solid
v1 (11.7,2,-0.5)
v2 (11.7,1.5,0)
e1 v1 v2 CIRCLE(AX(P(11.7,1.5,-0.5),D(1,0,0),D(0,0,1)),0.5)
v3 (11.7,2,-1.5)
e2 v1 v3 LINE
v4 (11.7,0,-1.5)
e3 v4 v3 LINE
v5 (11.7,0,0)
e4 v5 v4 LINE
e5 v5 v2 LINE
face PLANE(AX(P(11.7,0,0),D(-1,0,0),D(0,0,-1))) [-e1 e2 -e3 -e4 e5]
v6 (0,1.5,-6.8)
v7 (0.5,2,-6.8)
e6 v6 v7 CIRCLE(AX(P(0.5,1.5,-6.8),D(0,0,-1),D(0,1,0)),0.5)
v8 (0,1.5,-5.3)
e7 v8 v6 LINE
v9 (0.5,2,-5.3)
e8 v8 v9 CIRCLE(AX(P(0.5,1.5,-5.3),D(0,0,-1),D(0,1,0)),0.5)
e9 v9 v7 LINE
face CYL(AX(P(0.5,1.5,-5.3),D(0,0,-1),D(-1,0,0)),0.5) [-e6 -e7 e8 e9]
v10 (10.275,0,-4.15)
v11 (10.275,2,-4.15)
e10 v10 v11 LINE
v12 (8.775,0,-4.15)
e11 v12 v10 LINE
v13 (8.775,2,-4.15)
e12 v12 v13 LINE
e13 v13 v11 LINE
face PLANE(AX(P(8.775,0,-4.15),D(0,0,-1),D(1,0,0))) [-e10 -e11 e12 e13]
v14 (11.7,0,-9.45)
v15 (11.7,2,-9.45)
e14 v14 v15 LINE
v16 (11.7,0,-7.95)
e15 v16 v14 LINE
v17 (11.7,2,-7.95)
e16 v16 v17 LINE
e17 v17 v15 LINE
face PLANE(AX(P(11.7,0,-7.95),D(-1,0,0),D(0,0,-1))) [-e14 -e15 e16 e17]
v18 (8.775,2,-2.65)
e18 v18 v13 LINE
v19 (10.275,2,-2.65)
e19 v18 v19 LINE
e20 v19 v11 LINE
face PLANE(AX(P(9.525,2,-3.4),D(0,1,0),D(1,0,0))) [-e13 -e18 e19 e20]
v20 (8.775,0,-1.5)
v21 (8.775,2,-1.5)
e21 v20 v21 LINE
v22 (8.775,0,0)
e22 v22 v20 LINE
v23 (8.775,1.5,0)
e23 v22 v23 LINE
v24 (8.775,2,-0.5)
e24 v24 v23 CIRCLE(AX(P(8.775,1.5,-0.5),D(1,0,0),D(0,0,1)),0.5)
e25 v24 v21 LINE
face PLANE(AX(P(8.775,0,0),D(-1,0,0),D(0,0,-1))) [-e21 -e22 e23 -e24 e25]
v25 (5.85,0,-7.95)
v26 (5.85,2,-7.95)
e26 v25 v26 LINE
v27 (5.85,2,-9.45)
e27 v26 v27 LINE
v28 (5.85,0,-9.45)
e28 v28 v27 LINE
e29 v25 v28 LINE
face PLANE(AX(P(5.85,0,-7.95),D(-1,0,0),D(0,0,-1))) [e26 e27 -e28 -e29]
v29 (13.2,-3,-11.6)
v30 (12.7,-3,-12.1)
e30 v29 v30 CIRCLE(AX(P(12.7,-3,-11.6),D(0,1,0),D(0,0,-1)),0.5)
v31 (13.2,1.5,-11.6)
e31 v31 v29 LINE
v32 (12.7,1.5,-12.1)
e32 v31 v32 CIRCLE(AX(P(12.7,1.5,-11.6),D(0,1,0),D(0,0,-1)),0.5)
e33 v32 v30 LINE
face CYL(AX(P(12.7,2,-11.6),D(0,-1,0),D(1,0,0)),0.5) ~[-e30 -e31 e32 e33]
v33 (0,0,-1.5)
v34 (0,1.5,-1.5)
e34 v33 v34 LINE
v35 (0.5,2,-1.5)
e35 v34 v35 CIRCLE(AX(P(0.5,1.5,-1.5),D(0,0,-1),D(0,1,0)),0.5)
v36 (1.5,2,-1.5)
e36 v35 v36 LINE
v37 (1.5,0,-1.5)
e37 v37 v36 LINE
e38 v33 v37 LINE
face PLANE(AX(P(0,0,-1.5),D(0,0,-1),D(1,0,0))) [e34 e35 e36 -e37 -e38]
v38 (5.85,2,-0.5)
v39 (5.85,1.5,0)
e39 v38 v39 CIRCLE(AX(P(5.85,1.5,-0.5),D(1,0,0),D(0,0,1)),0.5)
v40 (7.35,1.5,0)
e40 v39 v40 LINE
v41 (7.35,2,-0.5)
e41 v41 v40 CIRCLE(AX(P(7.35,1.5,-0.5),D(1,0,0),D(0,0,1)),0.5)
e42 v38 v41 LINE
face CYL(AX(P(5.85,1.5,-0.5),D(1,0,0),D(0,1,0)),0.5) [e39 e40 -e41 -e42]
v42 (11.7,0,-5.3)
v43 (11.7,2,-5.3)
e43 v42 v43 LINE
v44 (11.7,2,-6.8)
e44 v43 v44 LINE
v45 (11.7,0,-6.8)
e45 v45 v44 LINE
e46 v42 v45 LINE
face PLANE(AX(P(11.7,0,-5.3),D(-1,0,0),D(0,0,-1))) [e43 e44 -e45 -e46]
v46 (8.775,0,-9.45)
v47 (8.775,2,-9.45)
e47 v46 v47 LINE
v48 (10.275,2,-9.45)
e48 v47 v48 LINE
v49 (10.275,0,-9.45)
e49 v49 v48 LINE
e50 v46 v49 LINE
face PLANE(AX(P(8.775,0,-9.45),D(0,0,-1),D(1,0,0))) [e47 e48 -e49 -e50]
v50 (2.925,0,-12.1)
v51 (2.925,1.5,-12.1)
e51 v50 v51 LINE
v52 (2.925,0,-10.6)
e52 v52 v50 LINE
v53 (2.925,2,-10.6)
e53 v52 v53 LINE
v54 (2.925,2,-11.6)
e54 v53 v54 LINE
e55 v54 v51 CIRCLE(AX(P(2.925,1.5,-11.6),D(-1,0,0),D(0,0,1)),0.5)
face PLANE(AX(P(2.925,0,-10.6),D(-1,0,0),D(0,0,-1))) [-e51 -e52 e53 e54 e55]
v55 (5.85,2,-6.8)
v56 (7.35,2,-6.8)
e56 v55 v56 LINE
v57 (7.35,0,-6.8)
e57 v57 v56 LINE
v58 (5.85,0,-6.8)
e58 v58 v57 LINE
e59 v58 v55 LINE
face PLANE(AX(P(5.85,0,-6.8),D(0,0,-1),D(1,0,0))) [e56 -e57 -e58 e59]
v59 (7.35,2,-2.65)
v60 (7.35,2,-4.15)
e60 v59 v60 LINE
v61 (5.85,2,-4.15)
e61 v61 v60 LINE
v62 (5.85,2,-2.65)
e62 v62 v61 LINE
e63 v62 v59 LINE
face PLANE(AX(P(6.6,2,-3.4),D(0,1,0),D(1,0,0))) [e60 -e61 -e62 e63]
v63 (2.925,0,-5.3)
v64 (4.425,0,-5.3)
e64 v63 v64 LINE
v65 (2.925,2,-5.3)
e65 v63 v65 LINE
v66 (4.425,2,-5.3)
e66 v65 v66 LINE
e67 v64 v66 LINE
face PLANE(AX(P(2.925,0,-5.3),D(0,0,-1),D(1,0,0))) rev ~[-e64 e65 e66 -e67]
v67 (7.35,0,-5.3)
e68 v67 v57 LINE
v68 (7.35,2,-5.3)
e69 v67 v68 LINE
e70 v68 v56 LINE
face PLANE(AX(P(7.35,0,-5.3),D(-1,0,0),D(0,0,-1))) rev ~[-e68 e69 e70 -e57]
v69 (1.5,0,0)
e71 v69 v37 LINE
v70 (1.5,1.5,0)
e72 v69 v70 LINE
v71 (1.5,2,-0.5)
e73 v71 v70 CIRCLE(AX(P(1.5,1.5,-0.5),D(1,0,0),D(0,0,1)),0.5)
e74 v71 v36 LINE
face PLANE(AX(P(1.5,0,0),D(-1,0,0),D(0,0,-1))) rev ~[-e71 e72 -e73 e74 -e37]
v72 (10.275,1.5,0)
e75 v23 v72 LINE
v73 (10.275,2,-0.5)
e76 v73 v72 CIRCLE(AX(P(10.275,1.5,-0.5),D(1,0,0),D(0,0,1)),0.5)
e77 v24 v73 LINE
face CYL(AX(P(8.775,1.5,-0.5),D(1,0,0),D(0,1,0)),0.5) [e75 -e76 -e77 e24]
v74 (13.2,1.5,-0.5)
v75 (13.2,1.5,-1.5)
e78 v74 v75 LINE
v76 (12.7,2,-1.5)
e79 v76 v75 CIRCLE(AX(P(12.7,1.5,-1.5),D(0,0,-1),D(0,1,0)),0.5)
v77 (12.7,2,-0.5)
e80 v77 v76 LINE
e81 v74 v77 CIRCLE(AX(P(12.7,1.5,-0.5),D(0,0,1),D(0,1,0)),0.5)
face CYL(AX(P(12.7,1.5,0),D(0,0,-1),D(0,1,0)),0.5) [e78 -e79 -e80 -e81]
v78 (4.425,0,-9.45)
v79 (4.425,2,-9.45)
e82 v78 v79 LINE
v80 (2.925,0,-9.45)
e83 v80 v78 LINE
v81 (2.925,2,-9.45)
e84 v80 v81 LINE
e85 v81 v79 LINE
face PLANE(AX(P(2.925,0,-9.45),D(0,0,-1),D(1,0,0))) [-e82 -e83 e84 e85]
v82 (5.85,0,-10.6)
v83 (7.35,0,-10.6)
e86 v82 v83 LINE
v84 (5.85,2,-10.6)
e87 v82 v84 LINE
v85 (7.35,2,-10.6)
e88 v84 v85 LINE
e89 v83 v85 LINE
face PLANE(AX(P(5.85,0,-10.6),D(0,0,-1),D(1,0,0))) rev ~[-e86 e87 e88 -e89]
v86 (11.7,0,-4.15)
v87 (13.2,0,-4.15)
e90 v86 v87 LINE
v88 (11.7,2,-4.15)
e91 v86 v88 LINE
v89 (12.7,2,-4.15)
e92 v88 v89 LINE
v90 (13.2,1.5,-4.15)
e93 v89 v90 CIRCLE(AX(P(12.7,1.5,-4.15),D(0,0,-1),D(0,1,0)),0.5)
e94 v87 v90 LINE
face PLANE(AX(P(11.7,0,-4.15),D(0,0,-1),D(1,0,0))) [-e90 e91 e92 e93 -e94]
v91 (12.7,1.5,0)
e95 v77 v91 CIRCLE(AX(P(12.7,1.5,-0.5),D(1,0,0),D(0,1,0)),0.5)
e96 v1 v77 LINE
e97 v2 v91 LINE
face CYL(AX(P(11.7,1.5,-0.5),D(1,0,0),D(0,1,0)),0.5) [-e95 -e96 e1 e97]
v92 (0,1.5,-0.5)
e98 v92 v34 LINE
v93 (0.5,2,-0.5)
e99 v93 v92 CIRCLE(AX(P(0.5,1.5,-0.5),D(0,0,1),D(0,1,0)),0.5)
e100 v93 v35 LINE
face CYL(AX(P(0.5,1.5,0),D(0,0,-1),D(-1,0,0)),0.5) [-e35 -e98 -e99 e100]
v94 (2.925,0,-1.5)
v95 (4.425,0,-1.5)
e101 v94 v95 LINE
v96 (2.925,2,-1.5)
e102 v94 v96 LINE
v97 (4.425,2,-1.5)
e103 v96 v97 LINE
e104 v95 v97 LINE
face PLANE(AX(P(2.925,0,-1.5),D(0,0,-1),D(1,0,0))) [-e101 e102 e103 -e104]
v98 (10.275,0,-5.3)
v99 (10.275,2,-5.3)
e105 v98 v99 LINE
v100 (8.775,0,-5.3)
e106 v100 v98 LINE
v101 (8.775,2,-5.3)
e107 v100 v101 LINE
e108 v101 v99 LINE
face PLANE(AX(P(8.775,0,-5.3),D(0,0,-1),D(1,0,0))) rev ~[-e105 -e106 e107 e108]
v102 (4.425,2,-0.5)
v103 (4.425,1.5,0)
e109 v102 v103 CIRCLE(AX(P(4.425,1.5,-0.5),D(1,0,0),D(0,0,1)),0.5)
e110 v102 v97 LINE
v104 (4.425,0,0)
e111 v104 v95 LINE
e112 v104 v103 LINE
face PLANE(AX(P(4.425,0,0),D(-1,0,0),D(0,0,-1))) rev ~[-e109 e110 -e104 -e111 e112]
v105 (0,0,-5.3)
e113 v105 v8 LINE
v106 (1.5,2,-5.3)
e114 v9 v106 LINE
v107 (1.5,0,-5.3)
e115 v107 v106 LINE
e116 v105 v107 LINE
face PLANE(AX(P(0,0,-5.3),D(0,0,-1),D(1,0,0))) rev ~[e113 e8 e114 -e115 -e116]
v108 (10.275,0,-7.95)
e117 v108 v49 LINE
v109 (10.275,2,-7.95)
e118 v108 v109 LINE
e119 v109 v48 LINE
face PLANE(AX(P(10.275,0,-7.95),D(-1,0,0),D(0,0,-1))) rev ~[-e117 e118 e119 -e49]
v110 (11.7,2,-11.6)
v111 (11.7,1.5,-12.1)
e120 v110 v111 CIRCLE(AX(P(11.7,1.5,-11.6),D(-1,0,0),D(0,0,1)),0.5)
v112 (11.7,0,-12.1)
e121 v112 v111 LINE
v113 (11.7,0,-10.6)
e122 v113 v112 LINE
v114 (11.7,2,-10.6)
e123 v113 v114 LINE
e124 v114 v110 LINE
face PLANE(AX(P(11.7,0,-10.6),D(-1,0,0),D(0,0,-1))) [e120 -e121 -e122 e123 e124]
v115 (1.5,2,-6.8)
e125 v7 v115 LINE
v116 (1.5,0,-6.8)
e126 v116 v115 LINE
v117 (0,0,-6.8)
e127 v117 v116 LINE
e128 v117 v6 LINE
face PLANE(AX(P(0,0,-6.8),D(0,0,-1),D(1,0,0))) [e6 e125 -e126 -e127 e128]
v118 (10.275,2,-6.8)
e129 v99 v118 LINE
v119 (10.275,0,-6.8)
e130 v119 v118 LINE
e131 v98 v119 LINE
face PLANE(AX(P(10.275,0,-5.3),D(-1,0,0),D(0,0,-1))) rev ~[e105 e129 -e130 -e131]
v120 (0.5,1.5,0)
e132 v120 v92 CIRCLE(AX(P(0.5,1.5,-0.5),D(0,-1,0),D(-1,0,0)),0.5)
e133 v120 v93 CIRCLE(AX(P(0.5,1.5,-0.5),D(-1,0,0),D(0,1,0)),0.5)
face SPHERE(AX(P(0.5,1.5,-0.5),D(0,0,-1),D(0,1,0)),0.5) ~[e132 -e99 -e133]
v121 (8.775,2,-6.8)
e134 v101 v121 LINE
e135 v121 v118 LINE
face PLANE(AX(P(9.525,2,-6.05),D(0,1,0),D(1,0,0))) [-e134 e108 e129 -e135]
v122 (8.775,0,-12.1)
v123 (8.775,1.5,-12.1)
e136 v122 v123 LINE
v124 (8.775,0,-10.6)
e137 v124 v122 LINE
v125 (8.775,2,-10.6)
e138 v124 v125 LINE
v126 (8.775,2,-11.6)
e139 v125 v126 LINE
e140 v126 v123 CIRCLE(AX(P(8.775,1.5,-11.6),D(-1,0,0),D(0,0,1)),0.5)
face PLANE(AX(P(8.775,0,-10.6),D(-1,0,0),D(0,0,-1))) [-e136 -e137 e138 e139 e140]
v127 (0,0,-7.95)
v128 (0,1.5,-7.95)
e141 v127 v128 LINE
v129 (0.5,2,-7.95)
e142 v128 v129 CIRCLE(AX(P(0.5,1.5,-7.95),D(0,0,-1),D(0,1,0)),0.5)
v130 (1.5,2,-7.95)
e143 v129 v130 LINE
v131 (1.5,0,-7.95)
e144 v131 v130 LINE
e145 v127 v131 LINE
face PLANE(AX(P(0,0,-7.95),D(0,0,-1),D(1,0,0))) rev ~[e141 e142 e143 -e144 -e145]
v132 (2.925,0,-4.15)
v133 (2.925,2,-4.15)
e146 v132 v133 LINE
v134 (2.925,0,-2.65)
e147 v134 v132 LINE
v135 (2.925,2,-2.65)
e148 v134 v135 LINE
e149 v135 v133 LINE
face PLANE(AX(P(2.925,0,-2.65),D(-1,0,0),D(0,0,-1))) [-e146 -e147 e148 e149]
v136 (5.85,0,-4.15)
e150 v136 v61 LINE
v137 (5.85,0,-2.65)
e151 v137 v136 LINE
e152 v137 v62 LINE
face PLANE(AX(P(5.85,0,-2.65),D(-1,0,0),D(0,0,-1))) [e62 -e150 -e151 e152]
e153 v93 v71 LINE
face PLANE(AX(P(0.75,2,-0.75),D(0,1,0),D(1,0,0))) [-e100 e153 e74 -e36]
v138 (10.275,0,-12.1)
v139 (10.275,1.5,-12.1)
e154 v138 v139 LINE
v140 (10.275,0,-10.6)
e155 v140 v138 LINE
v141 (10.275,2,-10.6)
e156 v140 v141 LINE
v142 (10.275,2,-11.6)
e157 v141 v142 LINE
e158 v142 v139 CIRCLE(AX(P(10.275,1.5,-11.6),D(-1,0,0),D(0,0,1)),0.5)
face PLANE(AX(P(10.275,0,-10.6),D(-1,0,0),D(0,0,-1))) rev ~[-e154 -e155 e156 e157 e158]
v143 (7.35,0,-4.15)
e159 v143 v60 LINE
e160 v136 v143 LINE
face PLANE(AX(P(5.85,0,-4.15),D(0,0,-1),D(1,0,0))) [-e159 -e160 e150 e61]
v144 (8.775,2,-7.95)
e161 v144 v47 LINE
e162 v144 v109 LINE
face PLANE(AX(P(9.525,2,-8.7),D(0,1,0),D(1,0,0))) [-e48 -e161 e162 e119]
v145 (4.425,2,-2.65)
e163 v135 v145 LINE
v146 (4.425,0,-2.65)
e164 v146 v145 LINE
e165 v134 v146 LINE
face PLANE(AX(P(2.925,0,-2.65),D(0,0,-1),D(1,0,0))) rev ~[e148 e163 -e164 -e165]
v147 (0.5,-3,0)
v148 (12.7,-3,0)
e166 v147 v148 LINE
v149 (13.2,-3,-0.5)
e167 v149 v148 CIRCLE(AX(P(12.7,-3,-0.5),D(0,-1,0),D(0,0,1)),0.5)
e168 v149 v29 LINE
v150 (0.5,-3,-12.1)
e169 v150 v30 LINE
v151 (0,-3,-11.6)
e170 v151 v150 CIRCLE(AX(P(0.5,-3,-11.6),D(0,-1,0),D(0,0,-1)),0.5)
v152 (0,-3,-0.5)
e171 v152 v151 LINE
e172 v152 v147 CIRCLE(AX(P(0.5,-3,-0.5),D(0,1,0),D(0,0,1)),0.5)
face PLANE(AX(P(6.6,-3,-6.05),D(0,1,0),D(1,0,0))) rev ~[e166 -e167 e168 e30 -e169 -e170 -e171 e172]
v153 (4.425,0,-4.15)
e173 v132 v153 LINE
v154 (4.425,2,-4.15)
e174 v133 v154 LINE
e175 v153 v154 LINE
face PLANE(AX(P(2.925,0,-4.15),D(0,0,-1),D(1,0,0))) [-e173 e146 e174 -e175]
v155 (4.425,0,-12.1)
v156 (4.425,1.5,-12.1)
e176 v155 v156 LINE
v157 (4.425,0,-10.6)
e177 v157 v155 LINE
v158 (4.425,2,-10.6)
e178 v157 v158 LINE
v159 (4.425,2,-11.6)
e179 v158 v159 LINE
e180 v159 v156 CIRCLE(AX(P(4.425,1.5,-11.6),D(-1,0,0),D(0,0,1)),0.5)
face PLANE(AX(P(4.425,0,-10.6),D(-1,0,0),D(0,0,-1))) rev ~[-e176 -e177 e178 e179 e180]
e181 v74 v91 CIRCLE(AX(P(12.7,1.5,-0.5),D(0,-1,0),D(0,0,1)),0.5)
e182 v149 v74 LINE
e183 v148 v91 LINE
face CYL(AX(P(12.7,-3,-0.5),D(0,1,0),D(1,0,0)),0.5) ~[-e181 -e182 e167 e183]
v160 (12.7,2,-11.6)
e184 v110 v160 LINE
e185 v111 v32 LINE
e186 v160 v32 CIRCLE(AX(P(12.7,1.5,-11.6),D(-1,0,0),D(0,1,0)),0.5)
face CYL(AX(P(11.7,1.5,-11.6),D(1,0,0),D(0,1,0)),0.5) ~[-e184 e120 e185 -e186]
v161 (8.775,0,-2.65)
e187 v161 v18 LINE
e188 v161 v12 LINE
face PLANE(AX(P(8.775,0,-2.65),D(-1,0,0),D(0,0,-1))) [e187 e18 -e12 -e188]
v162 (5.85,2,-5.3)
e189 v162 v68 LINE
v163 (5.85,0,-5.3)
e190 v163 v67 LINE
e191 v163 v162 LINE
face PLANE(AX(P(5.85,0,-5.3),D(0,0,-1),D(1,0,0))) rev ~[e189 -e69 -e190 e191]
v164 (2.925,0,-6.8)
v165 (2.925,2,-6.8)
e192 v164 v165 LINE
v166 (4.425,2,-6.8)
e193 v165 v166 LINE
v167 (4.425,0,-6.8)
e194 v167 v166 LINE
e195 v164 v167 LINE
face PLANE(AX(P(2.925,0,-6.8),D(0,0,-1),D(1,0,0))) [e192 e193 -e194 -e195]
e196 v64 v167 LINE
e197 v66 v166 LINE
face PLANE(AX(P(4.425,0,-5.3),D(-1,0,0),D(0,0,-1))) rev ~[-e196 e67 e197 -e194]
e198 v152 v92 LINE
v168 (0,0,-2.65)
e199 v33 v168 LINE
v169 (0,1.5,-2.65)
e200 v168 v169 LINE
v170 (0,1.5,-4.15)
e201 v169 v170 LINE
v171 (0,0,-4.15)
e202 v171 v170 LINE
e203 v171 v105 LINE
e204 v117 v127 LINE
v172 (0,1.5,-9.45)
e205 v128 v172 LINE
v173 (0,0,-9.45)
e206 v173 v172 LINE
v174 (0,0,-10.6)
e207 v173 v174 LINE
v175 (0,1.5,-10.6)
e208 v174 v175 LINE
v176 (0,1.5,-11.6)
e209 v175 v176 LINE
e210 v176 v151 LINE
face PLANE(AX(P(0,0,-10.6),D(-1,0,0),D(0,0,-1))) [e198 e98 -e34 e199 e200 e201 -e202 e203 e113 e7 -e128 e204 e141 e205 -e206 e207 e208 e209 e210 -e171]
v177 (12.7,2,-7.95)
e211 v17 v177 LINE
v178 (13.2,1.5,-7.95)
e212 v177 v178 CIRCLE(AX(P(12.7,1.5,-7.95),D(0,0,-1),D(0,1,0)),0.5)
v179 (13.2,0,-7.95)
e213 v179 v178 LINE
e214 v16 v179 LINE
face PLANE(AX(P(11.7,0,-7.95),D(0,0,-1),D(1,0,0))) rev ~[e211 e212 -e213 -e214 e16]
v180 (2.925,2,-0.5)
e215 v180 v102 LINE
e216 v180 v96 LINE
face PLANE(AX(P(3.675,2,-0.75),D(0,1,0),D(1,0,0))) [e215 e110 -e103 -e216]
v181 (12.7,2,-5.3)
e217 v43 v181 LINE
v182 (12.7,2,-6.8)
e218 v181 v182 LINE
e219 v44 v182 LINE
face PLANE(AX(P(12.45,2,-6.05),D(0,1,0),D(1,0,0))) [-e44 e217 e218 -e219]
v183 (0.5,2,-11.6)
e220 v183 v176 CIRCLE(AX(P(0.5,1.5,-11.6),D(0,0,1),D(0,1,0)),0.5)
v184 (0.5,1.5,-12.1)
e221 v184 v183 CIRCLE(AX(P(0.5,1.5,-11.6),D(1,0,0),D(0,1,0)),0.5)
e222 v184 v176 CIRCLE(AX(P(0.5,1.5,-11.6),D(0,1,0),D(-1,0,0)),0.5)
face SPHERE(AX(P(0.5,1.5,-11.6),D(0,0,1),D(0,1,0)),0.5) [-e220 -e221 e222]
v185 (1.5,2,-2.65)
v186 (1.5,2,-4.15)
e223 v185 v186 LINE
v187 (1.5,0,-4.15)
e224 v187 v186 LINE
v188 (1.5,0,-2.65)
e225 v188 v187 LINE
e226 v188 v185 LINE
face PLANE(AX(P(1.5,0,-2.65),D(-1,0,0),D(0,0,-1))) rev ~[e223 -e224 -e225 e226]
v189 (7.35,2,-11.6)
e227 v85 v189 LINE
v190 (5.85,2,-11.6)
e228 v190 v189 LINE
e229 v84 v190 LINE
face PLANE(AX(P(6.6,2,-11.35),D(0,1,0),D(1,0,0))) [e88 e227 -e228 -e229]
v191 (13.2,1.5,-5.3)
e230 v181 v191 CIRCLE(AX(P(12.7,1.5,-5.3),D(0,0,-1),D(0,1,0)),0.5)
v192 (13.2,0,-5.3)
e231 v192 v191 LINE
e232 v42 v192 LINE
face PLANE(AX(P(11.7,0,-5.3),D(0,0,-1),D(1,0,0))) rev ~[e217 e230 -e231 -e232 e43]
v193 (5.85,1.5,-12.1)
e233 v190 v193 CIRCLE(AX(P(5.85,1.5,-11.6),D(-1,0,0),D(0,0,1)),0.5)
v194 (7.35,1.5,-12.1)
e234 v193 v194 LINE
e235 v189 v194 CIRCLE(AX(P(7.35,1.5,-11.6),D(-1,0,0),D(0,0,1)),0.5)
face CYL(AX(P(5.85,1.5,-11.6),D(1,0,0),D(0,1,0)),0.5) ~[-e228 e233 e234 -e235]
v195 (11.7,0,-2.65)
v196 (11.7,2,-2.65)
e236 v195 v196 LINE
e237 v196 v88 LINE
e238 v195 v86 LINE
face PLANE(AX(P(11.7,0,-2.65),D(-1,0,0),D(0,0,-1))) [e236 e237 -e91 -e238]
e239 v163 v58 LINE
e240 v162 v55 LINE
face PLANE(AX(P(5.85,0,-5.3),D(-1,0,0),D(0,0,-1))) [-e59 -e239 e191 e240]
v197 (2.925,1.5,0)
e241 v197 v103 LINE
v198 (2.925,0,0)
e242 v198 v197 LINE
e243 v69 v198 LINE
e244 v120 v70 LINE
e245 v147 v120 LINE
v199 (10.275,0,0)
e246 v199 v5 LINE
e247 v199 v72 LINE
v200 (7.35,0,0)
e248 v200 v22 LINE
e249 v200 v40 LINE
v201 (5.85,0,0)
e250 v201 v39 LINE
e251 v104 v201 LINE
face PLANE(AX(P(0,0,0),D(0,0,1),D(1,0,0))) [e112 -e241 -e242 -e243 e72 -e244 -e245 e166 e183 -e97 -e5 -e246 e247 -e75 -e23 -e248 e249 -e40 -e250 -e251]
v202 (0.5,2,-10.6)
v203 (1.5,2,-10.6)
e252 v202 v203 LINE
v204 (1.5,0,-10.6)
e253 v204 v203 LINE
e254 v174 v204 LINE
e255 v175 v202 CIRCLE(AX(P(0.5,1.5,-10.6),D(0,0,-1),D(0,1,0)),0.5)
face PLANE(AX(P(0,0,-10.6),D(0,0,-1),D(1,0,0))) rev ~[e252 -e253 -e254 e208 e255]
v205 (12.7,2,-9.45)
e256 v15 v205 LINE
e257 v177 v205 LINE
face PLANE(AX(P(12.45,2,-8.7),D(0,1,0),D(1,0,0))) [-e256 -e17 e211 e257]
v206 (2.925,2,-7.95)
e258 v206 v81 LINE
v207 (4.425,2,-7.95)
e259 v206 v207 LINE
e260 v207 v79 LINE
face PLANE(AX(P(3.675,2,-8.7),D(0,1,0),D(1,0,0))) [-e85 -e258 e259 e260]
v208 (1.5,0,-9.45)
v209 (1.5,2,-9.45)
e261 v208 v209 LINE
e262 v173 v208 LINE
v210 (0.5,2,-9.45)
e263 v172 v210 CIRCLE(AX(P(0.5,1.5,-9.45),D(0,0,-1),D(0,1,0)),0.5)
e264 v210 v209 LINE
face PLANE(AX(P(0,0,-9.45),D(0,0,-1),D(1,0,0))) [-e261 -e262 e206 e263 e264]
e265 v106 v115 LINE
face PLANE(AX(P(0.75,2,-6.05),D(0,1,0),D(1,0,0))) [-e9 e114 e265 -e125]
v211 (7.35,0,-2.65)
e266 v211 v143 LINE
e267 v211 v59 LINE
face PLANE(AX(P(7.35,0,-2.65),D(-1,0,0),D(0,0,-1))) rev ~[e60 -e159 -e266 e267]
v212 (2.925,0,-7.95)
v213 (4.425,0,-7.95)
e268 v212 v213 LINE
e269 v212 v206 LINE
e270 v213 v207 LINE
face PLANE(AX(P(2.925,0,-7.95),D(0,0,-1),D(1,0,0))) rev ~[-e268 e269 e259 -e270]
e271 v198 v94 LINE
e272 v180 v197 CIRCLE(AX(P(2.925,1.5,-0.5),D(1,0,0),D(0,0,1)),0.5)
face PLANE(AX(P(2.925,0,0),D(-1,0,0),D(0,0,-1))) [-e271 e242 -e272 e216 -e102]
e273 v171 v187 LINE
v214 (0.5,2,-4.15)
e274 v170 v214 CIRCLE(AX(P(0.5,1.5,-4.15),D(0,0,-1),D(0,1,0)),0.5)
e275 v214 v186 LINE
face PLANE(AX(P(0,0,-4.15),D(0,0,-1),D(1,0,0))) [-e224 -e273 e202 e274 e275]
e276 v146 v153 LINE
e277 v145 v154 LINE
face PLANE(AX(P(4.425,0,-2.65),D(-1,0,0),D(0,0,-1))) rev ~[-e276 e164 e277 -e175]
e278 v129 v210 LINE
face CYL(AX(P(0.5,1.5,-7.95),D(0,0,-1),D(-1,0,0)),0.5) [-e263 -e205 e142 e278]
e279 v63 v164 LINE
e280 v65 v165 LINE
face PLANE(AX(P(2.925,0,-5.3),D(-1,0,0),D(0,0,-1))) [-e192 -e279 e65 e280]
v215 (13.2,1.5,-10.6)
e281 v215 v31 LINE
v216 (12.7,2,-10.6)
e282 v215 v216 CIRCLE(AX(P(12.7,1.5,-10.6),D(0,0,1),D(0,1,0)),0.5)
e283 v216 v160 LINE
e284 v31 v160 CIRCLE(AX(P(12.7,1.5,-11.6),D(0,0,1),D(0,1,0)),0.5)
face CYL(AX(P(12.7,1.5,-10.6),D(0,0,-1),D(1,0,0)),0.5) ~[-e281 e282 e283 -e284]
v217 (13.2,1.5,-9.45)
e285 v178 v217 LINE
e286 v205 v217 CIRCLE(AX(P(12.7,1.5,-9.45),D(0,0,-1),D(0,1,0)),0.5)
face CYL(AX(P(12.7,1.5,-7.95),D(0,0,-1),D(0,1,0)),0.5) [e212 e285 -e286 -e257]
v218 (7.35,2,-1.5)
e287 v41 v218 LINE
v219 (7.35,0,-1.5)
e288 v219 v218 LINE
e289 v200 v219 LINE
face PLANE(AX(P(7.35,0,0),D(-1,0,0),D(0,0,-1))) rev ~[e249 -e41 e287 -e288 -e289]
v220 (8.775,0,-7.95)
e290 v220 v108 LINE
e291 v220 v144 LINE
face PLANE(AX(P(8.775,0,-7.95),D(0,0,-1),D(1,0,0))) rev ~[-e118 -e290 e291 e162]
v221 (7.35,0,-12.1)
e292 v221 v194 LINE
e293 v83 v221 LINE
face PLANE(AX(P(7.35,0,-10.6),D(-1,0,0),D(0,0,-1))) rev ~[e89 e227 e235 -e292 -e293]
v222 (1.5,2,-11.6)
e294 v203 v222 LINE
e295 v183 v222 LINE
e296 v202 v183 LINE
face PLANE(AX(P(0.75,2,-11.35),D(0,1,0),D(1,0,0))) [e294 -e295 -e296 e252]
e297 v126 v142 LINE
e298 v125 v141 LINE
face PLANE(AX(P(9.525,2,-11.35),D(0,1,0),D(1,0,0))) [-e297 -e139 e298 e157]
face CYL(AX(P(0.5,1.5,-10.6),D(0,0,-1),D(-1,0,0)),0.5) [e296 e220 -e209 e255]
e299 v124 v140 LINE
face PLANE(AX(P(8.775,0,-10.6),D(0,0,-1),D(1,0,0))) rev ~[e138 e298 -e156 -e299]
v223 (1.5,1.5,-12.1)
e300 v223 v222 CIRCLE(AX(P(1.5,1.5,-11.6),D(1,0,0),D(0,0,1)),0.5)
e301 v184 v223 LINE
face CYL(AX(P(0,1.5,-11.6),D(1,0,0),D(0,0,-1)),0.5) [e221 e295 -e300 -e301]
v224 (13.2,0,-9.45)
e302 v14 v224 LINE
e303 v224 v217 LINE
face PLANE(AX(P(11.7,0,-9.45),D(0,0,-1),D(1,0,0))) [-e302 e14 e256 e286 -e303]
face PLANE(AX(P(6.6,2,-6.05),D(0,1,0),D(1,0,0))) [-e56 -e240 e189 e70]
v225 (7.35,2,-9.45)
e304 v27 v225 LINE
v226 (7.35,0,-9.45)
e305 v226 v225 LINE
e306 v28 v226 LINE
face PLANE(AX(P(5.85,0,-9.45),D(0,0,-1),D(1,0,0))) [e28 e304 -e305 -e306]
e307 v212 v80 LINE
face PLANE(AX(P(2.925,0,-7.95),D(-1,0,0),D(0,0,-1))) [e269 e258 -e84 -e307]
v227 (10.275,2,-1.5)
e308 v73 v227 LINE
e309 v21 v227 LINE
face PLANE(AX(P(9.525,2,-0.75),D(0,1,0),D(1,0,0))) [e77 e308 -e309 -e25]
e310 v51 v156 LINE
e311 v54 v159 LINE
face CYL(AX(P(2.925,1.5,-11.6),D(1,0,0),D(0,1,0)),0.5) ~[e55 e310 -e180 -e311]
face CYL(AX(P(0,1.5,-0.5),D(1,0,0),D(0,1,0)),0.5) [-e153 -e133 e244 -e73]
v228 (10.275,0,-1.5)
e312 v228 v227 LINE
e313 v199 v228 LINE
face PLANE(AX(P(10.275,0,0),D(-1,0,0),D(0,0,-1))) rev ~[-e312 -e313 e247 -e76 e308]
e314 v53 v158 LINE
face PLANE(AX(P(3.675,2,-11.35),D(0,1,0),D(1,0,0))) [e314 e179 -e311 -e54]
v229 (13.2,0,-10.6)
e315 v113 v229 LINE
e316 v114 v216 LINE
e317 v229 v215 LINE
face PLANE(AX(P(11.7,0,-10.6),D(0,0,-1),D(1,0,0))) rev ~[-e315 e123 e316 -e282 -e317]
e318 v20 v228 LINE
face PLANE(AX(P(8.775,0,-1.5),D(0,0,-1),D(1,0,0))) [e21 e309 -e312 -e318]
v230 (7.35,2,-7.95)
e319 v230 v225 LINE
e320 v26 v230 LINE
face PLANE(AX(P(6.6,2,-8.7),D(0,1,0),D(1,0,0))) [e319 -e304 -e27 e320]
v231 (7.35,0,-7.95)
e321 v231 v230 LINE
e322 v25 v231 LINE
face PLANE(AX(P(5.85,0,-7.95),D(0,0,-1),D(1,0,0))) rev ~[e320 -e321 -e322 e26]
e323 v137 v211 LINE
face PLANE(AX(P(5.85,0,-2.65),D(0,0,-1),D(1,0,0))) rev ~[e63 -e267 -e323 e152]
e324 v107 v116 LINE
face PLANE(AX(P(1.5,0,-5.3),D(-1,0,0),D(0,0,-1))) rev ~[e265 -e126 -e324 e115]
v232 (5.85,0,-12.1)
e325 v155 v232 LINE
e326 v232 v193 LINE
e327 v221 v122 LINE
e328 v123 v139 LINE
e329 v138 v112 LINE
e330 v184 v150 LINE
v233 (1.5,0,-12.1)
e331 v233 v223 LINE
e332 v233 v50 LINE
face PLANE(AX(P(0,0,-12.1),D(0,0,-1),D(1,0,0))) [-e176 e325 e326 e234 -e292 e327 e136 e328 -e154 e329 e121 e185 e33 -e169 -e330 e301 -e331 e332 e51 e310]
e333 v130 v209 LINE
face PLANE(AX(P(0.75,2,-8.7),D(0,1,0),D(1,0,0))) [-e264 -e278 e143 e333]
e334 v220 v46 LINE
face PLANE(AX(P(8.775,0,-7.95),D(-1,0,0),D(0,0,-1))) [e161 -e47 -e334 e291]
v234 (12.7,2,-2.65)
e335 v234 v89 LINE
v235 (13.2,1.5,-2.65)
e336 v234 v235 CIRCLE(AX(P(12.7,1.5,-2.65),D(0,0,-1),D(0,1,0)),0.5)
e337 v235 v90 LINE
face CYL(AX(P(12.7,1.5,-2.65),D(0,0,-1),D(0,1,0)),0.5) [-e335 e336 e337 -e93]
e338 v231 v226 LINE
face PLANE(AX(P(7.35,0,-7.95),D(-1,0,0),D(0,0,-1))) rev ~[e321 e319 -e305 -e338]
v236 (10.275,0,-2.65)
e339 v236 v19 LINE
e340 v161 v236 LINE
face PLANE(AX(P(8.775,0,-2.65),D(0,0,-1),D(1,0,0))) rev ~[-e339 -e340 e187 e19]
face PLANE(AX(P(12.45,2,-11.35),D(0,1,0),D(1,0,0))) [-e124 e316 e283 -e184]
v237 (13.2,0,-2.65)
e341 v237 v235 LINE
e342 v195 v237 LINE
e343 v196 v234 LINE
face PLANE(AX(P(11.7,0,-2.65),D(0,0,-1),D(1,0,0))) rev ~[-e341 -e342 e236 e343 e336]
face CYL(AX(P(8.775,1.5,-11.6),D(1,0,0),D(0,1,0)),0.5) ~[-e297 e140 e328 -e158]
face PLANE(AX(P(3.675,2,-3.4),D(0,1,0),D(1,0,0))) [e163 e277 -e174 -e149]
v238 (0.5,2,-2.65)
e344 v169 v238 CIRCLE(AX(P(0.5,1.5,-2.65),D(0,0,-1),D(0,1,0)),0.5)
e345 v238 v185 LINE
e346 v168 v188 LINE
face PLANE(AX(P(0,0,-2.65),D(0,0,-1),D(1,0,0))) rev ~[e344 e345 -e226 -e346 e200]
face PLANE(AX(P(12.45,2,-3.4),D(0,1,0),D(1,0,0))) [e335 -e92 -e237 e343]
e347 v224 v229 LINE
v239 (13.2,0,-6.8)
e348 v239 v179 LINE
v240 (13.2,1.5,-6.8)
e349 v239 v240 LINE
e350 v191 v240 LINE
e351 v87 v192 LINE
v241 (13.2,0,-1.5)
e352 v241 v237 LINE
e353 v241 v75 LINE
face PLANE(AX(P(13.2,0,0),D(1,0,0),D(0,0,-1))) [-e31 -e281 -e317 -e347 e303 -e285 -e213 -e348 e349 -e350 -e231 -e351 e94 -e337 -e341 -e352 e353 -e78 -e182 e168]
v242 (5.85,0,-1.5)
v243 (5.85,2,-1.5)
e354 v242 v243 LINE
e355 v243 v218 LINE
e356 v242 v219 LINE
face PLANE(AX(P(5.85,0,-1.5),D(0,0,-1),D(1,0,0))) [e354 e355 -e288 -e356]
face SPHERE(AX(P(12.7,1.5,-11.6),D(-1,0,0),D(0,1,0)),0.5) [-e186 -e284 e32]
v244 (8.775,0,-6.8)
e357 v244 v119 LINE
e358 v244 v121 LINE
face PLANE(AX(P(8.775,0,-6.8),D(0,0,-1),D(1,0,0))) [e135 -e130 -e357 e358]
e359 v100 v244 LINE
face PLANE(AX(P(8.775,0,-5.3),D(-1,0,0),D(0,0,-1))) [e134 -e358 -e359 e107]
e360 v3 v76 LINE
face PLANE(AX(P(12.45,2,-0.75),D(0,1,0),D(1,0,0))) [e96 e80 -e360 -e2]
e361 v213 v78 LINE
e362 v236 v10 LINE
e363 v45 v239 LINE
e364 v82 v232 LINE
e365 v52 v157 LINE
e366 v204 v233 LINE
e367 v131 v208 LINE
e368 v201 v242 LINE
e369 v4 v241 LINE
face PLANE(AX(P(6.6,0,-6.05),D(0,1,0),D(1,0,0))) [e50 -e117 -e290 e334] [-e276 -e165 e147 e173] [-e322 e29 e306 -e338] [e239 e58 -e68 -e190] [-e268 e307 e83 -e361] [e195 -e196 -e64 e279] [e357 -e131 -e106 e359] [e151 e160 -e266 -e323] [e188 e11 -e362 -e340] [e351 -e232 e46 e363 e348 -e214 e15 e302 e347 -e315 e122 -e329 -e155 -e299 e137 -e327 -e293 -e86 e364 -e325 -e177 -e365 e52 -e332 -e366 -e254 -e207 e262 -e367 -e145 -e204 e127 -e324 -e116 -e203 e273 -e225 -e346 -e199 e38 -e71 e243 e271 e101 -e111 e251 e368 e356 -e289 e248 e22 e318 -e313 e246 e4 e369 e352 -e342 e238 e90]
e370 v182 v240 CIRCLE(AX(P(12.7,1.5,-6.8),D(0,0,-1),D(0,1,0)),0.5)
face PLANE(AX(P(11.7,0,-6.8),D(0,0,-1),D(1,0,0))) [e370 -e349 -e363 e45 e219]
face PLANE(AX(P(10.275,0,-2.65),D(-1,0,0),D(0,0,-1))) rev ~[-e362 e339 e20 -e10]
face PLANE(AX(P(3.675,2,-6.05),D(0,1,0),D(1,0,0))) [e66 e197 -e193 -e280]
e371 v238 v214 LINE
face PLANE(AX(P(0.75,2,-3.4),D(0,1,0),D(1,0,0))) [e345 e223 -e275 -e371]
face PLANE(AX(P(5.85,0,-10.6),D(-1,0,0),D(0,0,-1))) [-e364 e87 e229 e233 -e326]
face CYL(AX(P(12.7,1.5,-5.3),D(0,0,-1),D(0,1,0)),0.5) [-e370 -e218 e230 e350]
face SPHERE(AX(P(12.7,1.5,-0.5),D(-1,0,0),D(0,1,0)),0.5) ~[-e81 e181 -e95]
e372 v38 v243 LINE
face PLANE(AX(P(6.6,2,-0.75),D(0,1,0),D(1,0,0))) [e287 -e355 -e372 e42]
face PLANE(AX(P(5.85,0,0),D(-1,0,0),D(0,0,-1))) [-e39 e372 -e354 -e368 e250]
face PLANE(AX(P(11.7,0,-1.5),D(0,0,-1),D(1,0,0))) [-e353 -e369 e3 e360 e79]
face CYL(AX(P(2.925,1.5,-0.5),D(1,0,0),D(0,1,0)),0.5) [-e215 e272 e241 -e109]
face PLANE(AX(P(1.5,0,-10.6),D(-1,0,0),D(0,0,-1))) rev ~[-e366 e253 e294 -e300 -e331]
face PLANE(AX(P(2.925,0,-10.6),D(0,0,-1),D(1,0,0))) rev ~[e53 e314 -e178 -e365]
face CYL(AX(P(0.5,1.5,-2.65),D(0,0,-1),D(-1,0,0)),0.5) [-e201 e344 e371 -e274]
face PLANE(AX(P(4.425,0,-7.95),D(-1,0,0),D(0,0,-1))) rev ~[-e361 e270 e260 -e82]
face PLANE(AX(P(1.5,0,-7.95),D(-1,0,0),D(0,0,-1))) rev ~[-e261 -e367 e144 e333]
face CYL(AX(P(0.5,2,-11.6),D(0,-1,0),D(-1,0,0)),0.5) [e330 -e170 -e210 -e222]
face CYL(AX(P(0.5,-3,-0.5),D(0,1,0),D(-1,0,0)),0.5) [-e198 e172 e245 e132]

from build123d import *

# Parameters (mm, degrees)
SKETCH1_W           = 13.2
SKETCH1_H           = 12.1
BOSS_EXTRUDE1_DEPTH = 3
SKETCH2_W           = 1.5
SKETCH2_H           = 1.5
BOSS_EXTRUDE2_DEPTH = 2
FILLET1_R           = 0.5


with BuildPart() as part:
    # Sketch1 → Boss-Extrude1 (new body)
    with BuildSketch(Plane(origin=(0, 0, 0), x_dir=(1, 0, 0), z_dir=(0, 1, 0))):
        with Locations((6.6, 6.05)):
            Rectangle(SKETCH1_W, SKETCH1_H)
    extrude(amount=-BOSS_EXTRUDE1_DEPTH)

    # Sketch2 → Boss-Extrude2 (add)
    with BuildSketch(Plane(origin=(0, 0, 0), x_dir=(1, 0, 0), z_dir=(0, 1, 0))):
        with Locations((3.675, 11.35)):
            Rectangle(SKETCH2_W, SKETCH2_H)
        with Locations((0.75, 11.35)):
            Rectangle(SKETCH2_W, SKETCH2_H)
        with Locations((6.6, 11.35)):
            Rectangle(SKETCH2_W, SKETCH2_H)
        with Locations((9.525, 11.35)):
            Rectangle(SKETCH2_W, SKETCH2_H)
        with Locations((12.45, 11.35)):
            Rectangle(SKETCH2_W, SKETCH2_H)
        with Locations((3.675, 8.7)):
            Rectangle(SKETCH2_W, SKETCH2_H)
        with Locations((6.6, 8.7)):
            Rectangle(SKETCH2_W, SKETCH2_H)
        with Locations((9.525, 8.7)):
            Rectangle(SKETCH2_W, SKETCH2_H)
        with Locations((12.45, 8.7)):
            Rectangle(SKETCH2_W, SKETCH2_H)
        with Locations((3.675, 6.05)):
            Rectangle(SKETCH2_W, SKETCH2_H)
        with Locations((6.6, 6.05)):
            Rectangle(SKETCH2_W, SKETCH2_H)
        with Locations((9.525, 6.05)):
            Rectangle(SKETCH2_W, SKETCH2_H)
        with Locations((12.45, 6.05)):
            Rectangle(SKETCH2_W, SKETCH2_H)
        with Locations((3.675, 3.4)):
            Rectangle(SKETCH2_W, SKETCH2_H)
        with Locations((6.6, 3.4)):
            Rectangle(SKETCH2_W, SKETCH2_H)
        with Locations((9.525, 3.4)):
            Rectangle(SKETCH2_W, SKETCH2_H)
        with Locations((12.45, 3.4)):
            Rectangle(SKETCH2_W, SKETCH2_H)
        with Locations((3.675, 0.75)):
            Rectangle(SKETCH2_W, SKETCH2_H)
        with Locations((6.6, 0.75)):
            Rectangle(SKETCH2_W, SKETCH2_H)
        with Locations((9.525, 0.75)):
            Rectangle(SKETCH2_W, SKETCH2_H)
        with Locations((12.45, 0.75)):
            Rectangle(SKETCH2_W, SKETCH2_H)
        with Locations((0.75, 8.7)):
            Rectangle(SKETCH2_W, SKETCH2_H)
        with Locations((0.75, 6.05)):
            Rectangle(SKETCH2_W, SKETCH2_H)
        with Locations((0.75, 3.4)):
            Rectangle(SKETCH2_W, SKETCH2_H)
        with Locations((0.75, 0.75)):
            Rectangle(SKETCH2_W, SKETCH2_H)
    extrude(amount=BOSS_EXTRUDE2_DEPTH)

    # Fillet1
    fillet1_edges = [part.edges().sort_by_distance(p)[0] for p in [
        (13.2, 2, -8.7),
        (13.2, 2, -6.05),
        (0, 2, -11.35),
        (0.75, 2, -12.1),
        (13.2, 2, -3.4),
        (3.675, 2, 0),
        (6.6, 2, 0),
        (9.525, 2, 0),
        (12.45, 2, 0),
        (13.2, 2, -0.75),
        (0, 2, -8.7),
        (0, 2, -6.05),
        (0, 2, -3.4),
        (0, 2, -0.75),
        (0.75, 2, 0),
        (3.675, 2, -12.1),
        (6.6, 2, -12.1),
        (9.525, 2, -12.1),
        (12.45, 2, -12.1),
        (13.2, 2, -11.35),
        (0, -0.5, -12.1),
        (13.2, -0.5, -12.1),
        (13.2, -0.5, 0),
        (0, -0.5, 0),
    ]]
    fillet(fillet1_edges, radius=FILLET1_R)


solid = part.part
